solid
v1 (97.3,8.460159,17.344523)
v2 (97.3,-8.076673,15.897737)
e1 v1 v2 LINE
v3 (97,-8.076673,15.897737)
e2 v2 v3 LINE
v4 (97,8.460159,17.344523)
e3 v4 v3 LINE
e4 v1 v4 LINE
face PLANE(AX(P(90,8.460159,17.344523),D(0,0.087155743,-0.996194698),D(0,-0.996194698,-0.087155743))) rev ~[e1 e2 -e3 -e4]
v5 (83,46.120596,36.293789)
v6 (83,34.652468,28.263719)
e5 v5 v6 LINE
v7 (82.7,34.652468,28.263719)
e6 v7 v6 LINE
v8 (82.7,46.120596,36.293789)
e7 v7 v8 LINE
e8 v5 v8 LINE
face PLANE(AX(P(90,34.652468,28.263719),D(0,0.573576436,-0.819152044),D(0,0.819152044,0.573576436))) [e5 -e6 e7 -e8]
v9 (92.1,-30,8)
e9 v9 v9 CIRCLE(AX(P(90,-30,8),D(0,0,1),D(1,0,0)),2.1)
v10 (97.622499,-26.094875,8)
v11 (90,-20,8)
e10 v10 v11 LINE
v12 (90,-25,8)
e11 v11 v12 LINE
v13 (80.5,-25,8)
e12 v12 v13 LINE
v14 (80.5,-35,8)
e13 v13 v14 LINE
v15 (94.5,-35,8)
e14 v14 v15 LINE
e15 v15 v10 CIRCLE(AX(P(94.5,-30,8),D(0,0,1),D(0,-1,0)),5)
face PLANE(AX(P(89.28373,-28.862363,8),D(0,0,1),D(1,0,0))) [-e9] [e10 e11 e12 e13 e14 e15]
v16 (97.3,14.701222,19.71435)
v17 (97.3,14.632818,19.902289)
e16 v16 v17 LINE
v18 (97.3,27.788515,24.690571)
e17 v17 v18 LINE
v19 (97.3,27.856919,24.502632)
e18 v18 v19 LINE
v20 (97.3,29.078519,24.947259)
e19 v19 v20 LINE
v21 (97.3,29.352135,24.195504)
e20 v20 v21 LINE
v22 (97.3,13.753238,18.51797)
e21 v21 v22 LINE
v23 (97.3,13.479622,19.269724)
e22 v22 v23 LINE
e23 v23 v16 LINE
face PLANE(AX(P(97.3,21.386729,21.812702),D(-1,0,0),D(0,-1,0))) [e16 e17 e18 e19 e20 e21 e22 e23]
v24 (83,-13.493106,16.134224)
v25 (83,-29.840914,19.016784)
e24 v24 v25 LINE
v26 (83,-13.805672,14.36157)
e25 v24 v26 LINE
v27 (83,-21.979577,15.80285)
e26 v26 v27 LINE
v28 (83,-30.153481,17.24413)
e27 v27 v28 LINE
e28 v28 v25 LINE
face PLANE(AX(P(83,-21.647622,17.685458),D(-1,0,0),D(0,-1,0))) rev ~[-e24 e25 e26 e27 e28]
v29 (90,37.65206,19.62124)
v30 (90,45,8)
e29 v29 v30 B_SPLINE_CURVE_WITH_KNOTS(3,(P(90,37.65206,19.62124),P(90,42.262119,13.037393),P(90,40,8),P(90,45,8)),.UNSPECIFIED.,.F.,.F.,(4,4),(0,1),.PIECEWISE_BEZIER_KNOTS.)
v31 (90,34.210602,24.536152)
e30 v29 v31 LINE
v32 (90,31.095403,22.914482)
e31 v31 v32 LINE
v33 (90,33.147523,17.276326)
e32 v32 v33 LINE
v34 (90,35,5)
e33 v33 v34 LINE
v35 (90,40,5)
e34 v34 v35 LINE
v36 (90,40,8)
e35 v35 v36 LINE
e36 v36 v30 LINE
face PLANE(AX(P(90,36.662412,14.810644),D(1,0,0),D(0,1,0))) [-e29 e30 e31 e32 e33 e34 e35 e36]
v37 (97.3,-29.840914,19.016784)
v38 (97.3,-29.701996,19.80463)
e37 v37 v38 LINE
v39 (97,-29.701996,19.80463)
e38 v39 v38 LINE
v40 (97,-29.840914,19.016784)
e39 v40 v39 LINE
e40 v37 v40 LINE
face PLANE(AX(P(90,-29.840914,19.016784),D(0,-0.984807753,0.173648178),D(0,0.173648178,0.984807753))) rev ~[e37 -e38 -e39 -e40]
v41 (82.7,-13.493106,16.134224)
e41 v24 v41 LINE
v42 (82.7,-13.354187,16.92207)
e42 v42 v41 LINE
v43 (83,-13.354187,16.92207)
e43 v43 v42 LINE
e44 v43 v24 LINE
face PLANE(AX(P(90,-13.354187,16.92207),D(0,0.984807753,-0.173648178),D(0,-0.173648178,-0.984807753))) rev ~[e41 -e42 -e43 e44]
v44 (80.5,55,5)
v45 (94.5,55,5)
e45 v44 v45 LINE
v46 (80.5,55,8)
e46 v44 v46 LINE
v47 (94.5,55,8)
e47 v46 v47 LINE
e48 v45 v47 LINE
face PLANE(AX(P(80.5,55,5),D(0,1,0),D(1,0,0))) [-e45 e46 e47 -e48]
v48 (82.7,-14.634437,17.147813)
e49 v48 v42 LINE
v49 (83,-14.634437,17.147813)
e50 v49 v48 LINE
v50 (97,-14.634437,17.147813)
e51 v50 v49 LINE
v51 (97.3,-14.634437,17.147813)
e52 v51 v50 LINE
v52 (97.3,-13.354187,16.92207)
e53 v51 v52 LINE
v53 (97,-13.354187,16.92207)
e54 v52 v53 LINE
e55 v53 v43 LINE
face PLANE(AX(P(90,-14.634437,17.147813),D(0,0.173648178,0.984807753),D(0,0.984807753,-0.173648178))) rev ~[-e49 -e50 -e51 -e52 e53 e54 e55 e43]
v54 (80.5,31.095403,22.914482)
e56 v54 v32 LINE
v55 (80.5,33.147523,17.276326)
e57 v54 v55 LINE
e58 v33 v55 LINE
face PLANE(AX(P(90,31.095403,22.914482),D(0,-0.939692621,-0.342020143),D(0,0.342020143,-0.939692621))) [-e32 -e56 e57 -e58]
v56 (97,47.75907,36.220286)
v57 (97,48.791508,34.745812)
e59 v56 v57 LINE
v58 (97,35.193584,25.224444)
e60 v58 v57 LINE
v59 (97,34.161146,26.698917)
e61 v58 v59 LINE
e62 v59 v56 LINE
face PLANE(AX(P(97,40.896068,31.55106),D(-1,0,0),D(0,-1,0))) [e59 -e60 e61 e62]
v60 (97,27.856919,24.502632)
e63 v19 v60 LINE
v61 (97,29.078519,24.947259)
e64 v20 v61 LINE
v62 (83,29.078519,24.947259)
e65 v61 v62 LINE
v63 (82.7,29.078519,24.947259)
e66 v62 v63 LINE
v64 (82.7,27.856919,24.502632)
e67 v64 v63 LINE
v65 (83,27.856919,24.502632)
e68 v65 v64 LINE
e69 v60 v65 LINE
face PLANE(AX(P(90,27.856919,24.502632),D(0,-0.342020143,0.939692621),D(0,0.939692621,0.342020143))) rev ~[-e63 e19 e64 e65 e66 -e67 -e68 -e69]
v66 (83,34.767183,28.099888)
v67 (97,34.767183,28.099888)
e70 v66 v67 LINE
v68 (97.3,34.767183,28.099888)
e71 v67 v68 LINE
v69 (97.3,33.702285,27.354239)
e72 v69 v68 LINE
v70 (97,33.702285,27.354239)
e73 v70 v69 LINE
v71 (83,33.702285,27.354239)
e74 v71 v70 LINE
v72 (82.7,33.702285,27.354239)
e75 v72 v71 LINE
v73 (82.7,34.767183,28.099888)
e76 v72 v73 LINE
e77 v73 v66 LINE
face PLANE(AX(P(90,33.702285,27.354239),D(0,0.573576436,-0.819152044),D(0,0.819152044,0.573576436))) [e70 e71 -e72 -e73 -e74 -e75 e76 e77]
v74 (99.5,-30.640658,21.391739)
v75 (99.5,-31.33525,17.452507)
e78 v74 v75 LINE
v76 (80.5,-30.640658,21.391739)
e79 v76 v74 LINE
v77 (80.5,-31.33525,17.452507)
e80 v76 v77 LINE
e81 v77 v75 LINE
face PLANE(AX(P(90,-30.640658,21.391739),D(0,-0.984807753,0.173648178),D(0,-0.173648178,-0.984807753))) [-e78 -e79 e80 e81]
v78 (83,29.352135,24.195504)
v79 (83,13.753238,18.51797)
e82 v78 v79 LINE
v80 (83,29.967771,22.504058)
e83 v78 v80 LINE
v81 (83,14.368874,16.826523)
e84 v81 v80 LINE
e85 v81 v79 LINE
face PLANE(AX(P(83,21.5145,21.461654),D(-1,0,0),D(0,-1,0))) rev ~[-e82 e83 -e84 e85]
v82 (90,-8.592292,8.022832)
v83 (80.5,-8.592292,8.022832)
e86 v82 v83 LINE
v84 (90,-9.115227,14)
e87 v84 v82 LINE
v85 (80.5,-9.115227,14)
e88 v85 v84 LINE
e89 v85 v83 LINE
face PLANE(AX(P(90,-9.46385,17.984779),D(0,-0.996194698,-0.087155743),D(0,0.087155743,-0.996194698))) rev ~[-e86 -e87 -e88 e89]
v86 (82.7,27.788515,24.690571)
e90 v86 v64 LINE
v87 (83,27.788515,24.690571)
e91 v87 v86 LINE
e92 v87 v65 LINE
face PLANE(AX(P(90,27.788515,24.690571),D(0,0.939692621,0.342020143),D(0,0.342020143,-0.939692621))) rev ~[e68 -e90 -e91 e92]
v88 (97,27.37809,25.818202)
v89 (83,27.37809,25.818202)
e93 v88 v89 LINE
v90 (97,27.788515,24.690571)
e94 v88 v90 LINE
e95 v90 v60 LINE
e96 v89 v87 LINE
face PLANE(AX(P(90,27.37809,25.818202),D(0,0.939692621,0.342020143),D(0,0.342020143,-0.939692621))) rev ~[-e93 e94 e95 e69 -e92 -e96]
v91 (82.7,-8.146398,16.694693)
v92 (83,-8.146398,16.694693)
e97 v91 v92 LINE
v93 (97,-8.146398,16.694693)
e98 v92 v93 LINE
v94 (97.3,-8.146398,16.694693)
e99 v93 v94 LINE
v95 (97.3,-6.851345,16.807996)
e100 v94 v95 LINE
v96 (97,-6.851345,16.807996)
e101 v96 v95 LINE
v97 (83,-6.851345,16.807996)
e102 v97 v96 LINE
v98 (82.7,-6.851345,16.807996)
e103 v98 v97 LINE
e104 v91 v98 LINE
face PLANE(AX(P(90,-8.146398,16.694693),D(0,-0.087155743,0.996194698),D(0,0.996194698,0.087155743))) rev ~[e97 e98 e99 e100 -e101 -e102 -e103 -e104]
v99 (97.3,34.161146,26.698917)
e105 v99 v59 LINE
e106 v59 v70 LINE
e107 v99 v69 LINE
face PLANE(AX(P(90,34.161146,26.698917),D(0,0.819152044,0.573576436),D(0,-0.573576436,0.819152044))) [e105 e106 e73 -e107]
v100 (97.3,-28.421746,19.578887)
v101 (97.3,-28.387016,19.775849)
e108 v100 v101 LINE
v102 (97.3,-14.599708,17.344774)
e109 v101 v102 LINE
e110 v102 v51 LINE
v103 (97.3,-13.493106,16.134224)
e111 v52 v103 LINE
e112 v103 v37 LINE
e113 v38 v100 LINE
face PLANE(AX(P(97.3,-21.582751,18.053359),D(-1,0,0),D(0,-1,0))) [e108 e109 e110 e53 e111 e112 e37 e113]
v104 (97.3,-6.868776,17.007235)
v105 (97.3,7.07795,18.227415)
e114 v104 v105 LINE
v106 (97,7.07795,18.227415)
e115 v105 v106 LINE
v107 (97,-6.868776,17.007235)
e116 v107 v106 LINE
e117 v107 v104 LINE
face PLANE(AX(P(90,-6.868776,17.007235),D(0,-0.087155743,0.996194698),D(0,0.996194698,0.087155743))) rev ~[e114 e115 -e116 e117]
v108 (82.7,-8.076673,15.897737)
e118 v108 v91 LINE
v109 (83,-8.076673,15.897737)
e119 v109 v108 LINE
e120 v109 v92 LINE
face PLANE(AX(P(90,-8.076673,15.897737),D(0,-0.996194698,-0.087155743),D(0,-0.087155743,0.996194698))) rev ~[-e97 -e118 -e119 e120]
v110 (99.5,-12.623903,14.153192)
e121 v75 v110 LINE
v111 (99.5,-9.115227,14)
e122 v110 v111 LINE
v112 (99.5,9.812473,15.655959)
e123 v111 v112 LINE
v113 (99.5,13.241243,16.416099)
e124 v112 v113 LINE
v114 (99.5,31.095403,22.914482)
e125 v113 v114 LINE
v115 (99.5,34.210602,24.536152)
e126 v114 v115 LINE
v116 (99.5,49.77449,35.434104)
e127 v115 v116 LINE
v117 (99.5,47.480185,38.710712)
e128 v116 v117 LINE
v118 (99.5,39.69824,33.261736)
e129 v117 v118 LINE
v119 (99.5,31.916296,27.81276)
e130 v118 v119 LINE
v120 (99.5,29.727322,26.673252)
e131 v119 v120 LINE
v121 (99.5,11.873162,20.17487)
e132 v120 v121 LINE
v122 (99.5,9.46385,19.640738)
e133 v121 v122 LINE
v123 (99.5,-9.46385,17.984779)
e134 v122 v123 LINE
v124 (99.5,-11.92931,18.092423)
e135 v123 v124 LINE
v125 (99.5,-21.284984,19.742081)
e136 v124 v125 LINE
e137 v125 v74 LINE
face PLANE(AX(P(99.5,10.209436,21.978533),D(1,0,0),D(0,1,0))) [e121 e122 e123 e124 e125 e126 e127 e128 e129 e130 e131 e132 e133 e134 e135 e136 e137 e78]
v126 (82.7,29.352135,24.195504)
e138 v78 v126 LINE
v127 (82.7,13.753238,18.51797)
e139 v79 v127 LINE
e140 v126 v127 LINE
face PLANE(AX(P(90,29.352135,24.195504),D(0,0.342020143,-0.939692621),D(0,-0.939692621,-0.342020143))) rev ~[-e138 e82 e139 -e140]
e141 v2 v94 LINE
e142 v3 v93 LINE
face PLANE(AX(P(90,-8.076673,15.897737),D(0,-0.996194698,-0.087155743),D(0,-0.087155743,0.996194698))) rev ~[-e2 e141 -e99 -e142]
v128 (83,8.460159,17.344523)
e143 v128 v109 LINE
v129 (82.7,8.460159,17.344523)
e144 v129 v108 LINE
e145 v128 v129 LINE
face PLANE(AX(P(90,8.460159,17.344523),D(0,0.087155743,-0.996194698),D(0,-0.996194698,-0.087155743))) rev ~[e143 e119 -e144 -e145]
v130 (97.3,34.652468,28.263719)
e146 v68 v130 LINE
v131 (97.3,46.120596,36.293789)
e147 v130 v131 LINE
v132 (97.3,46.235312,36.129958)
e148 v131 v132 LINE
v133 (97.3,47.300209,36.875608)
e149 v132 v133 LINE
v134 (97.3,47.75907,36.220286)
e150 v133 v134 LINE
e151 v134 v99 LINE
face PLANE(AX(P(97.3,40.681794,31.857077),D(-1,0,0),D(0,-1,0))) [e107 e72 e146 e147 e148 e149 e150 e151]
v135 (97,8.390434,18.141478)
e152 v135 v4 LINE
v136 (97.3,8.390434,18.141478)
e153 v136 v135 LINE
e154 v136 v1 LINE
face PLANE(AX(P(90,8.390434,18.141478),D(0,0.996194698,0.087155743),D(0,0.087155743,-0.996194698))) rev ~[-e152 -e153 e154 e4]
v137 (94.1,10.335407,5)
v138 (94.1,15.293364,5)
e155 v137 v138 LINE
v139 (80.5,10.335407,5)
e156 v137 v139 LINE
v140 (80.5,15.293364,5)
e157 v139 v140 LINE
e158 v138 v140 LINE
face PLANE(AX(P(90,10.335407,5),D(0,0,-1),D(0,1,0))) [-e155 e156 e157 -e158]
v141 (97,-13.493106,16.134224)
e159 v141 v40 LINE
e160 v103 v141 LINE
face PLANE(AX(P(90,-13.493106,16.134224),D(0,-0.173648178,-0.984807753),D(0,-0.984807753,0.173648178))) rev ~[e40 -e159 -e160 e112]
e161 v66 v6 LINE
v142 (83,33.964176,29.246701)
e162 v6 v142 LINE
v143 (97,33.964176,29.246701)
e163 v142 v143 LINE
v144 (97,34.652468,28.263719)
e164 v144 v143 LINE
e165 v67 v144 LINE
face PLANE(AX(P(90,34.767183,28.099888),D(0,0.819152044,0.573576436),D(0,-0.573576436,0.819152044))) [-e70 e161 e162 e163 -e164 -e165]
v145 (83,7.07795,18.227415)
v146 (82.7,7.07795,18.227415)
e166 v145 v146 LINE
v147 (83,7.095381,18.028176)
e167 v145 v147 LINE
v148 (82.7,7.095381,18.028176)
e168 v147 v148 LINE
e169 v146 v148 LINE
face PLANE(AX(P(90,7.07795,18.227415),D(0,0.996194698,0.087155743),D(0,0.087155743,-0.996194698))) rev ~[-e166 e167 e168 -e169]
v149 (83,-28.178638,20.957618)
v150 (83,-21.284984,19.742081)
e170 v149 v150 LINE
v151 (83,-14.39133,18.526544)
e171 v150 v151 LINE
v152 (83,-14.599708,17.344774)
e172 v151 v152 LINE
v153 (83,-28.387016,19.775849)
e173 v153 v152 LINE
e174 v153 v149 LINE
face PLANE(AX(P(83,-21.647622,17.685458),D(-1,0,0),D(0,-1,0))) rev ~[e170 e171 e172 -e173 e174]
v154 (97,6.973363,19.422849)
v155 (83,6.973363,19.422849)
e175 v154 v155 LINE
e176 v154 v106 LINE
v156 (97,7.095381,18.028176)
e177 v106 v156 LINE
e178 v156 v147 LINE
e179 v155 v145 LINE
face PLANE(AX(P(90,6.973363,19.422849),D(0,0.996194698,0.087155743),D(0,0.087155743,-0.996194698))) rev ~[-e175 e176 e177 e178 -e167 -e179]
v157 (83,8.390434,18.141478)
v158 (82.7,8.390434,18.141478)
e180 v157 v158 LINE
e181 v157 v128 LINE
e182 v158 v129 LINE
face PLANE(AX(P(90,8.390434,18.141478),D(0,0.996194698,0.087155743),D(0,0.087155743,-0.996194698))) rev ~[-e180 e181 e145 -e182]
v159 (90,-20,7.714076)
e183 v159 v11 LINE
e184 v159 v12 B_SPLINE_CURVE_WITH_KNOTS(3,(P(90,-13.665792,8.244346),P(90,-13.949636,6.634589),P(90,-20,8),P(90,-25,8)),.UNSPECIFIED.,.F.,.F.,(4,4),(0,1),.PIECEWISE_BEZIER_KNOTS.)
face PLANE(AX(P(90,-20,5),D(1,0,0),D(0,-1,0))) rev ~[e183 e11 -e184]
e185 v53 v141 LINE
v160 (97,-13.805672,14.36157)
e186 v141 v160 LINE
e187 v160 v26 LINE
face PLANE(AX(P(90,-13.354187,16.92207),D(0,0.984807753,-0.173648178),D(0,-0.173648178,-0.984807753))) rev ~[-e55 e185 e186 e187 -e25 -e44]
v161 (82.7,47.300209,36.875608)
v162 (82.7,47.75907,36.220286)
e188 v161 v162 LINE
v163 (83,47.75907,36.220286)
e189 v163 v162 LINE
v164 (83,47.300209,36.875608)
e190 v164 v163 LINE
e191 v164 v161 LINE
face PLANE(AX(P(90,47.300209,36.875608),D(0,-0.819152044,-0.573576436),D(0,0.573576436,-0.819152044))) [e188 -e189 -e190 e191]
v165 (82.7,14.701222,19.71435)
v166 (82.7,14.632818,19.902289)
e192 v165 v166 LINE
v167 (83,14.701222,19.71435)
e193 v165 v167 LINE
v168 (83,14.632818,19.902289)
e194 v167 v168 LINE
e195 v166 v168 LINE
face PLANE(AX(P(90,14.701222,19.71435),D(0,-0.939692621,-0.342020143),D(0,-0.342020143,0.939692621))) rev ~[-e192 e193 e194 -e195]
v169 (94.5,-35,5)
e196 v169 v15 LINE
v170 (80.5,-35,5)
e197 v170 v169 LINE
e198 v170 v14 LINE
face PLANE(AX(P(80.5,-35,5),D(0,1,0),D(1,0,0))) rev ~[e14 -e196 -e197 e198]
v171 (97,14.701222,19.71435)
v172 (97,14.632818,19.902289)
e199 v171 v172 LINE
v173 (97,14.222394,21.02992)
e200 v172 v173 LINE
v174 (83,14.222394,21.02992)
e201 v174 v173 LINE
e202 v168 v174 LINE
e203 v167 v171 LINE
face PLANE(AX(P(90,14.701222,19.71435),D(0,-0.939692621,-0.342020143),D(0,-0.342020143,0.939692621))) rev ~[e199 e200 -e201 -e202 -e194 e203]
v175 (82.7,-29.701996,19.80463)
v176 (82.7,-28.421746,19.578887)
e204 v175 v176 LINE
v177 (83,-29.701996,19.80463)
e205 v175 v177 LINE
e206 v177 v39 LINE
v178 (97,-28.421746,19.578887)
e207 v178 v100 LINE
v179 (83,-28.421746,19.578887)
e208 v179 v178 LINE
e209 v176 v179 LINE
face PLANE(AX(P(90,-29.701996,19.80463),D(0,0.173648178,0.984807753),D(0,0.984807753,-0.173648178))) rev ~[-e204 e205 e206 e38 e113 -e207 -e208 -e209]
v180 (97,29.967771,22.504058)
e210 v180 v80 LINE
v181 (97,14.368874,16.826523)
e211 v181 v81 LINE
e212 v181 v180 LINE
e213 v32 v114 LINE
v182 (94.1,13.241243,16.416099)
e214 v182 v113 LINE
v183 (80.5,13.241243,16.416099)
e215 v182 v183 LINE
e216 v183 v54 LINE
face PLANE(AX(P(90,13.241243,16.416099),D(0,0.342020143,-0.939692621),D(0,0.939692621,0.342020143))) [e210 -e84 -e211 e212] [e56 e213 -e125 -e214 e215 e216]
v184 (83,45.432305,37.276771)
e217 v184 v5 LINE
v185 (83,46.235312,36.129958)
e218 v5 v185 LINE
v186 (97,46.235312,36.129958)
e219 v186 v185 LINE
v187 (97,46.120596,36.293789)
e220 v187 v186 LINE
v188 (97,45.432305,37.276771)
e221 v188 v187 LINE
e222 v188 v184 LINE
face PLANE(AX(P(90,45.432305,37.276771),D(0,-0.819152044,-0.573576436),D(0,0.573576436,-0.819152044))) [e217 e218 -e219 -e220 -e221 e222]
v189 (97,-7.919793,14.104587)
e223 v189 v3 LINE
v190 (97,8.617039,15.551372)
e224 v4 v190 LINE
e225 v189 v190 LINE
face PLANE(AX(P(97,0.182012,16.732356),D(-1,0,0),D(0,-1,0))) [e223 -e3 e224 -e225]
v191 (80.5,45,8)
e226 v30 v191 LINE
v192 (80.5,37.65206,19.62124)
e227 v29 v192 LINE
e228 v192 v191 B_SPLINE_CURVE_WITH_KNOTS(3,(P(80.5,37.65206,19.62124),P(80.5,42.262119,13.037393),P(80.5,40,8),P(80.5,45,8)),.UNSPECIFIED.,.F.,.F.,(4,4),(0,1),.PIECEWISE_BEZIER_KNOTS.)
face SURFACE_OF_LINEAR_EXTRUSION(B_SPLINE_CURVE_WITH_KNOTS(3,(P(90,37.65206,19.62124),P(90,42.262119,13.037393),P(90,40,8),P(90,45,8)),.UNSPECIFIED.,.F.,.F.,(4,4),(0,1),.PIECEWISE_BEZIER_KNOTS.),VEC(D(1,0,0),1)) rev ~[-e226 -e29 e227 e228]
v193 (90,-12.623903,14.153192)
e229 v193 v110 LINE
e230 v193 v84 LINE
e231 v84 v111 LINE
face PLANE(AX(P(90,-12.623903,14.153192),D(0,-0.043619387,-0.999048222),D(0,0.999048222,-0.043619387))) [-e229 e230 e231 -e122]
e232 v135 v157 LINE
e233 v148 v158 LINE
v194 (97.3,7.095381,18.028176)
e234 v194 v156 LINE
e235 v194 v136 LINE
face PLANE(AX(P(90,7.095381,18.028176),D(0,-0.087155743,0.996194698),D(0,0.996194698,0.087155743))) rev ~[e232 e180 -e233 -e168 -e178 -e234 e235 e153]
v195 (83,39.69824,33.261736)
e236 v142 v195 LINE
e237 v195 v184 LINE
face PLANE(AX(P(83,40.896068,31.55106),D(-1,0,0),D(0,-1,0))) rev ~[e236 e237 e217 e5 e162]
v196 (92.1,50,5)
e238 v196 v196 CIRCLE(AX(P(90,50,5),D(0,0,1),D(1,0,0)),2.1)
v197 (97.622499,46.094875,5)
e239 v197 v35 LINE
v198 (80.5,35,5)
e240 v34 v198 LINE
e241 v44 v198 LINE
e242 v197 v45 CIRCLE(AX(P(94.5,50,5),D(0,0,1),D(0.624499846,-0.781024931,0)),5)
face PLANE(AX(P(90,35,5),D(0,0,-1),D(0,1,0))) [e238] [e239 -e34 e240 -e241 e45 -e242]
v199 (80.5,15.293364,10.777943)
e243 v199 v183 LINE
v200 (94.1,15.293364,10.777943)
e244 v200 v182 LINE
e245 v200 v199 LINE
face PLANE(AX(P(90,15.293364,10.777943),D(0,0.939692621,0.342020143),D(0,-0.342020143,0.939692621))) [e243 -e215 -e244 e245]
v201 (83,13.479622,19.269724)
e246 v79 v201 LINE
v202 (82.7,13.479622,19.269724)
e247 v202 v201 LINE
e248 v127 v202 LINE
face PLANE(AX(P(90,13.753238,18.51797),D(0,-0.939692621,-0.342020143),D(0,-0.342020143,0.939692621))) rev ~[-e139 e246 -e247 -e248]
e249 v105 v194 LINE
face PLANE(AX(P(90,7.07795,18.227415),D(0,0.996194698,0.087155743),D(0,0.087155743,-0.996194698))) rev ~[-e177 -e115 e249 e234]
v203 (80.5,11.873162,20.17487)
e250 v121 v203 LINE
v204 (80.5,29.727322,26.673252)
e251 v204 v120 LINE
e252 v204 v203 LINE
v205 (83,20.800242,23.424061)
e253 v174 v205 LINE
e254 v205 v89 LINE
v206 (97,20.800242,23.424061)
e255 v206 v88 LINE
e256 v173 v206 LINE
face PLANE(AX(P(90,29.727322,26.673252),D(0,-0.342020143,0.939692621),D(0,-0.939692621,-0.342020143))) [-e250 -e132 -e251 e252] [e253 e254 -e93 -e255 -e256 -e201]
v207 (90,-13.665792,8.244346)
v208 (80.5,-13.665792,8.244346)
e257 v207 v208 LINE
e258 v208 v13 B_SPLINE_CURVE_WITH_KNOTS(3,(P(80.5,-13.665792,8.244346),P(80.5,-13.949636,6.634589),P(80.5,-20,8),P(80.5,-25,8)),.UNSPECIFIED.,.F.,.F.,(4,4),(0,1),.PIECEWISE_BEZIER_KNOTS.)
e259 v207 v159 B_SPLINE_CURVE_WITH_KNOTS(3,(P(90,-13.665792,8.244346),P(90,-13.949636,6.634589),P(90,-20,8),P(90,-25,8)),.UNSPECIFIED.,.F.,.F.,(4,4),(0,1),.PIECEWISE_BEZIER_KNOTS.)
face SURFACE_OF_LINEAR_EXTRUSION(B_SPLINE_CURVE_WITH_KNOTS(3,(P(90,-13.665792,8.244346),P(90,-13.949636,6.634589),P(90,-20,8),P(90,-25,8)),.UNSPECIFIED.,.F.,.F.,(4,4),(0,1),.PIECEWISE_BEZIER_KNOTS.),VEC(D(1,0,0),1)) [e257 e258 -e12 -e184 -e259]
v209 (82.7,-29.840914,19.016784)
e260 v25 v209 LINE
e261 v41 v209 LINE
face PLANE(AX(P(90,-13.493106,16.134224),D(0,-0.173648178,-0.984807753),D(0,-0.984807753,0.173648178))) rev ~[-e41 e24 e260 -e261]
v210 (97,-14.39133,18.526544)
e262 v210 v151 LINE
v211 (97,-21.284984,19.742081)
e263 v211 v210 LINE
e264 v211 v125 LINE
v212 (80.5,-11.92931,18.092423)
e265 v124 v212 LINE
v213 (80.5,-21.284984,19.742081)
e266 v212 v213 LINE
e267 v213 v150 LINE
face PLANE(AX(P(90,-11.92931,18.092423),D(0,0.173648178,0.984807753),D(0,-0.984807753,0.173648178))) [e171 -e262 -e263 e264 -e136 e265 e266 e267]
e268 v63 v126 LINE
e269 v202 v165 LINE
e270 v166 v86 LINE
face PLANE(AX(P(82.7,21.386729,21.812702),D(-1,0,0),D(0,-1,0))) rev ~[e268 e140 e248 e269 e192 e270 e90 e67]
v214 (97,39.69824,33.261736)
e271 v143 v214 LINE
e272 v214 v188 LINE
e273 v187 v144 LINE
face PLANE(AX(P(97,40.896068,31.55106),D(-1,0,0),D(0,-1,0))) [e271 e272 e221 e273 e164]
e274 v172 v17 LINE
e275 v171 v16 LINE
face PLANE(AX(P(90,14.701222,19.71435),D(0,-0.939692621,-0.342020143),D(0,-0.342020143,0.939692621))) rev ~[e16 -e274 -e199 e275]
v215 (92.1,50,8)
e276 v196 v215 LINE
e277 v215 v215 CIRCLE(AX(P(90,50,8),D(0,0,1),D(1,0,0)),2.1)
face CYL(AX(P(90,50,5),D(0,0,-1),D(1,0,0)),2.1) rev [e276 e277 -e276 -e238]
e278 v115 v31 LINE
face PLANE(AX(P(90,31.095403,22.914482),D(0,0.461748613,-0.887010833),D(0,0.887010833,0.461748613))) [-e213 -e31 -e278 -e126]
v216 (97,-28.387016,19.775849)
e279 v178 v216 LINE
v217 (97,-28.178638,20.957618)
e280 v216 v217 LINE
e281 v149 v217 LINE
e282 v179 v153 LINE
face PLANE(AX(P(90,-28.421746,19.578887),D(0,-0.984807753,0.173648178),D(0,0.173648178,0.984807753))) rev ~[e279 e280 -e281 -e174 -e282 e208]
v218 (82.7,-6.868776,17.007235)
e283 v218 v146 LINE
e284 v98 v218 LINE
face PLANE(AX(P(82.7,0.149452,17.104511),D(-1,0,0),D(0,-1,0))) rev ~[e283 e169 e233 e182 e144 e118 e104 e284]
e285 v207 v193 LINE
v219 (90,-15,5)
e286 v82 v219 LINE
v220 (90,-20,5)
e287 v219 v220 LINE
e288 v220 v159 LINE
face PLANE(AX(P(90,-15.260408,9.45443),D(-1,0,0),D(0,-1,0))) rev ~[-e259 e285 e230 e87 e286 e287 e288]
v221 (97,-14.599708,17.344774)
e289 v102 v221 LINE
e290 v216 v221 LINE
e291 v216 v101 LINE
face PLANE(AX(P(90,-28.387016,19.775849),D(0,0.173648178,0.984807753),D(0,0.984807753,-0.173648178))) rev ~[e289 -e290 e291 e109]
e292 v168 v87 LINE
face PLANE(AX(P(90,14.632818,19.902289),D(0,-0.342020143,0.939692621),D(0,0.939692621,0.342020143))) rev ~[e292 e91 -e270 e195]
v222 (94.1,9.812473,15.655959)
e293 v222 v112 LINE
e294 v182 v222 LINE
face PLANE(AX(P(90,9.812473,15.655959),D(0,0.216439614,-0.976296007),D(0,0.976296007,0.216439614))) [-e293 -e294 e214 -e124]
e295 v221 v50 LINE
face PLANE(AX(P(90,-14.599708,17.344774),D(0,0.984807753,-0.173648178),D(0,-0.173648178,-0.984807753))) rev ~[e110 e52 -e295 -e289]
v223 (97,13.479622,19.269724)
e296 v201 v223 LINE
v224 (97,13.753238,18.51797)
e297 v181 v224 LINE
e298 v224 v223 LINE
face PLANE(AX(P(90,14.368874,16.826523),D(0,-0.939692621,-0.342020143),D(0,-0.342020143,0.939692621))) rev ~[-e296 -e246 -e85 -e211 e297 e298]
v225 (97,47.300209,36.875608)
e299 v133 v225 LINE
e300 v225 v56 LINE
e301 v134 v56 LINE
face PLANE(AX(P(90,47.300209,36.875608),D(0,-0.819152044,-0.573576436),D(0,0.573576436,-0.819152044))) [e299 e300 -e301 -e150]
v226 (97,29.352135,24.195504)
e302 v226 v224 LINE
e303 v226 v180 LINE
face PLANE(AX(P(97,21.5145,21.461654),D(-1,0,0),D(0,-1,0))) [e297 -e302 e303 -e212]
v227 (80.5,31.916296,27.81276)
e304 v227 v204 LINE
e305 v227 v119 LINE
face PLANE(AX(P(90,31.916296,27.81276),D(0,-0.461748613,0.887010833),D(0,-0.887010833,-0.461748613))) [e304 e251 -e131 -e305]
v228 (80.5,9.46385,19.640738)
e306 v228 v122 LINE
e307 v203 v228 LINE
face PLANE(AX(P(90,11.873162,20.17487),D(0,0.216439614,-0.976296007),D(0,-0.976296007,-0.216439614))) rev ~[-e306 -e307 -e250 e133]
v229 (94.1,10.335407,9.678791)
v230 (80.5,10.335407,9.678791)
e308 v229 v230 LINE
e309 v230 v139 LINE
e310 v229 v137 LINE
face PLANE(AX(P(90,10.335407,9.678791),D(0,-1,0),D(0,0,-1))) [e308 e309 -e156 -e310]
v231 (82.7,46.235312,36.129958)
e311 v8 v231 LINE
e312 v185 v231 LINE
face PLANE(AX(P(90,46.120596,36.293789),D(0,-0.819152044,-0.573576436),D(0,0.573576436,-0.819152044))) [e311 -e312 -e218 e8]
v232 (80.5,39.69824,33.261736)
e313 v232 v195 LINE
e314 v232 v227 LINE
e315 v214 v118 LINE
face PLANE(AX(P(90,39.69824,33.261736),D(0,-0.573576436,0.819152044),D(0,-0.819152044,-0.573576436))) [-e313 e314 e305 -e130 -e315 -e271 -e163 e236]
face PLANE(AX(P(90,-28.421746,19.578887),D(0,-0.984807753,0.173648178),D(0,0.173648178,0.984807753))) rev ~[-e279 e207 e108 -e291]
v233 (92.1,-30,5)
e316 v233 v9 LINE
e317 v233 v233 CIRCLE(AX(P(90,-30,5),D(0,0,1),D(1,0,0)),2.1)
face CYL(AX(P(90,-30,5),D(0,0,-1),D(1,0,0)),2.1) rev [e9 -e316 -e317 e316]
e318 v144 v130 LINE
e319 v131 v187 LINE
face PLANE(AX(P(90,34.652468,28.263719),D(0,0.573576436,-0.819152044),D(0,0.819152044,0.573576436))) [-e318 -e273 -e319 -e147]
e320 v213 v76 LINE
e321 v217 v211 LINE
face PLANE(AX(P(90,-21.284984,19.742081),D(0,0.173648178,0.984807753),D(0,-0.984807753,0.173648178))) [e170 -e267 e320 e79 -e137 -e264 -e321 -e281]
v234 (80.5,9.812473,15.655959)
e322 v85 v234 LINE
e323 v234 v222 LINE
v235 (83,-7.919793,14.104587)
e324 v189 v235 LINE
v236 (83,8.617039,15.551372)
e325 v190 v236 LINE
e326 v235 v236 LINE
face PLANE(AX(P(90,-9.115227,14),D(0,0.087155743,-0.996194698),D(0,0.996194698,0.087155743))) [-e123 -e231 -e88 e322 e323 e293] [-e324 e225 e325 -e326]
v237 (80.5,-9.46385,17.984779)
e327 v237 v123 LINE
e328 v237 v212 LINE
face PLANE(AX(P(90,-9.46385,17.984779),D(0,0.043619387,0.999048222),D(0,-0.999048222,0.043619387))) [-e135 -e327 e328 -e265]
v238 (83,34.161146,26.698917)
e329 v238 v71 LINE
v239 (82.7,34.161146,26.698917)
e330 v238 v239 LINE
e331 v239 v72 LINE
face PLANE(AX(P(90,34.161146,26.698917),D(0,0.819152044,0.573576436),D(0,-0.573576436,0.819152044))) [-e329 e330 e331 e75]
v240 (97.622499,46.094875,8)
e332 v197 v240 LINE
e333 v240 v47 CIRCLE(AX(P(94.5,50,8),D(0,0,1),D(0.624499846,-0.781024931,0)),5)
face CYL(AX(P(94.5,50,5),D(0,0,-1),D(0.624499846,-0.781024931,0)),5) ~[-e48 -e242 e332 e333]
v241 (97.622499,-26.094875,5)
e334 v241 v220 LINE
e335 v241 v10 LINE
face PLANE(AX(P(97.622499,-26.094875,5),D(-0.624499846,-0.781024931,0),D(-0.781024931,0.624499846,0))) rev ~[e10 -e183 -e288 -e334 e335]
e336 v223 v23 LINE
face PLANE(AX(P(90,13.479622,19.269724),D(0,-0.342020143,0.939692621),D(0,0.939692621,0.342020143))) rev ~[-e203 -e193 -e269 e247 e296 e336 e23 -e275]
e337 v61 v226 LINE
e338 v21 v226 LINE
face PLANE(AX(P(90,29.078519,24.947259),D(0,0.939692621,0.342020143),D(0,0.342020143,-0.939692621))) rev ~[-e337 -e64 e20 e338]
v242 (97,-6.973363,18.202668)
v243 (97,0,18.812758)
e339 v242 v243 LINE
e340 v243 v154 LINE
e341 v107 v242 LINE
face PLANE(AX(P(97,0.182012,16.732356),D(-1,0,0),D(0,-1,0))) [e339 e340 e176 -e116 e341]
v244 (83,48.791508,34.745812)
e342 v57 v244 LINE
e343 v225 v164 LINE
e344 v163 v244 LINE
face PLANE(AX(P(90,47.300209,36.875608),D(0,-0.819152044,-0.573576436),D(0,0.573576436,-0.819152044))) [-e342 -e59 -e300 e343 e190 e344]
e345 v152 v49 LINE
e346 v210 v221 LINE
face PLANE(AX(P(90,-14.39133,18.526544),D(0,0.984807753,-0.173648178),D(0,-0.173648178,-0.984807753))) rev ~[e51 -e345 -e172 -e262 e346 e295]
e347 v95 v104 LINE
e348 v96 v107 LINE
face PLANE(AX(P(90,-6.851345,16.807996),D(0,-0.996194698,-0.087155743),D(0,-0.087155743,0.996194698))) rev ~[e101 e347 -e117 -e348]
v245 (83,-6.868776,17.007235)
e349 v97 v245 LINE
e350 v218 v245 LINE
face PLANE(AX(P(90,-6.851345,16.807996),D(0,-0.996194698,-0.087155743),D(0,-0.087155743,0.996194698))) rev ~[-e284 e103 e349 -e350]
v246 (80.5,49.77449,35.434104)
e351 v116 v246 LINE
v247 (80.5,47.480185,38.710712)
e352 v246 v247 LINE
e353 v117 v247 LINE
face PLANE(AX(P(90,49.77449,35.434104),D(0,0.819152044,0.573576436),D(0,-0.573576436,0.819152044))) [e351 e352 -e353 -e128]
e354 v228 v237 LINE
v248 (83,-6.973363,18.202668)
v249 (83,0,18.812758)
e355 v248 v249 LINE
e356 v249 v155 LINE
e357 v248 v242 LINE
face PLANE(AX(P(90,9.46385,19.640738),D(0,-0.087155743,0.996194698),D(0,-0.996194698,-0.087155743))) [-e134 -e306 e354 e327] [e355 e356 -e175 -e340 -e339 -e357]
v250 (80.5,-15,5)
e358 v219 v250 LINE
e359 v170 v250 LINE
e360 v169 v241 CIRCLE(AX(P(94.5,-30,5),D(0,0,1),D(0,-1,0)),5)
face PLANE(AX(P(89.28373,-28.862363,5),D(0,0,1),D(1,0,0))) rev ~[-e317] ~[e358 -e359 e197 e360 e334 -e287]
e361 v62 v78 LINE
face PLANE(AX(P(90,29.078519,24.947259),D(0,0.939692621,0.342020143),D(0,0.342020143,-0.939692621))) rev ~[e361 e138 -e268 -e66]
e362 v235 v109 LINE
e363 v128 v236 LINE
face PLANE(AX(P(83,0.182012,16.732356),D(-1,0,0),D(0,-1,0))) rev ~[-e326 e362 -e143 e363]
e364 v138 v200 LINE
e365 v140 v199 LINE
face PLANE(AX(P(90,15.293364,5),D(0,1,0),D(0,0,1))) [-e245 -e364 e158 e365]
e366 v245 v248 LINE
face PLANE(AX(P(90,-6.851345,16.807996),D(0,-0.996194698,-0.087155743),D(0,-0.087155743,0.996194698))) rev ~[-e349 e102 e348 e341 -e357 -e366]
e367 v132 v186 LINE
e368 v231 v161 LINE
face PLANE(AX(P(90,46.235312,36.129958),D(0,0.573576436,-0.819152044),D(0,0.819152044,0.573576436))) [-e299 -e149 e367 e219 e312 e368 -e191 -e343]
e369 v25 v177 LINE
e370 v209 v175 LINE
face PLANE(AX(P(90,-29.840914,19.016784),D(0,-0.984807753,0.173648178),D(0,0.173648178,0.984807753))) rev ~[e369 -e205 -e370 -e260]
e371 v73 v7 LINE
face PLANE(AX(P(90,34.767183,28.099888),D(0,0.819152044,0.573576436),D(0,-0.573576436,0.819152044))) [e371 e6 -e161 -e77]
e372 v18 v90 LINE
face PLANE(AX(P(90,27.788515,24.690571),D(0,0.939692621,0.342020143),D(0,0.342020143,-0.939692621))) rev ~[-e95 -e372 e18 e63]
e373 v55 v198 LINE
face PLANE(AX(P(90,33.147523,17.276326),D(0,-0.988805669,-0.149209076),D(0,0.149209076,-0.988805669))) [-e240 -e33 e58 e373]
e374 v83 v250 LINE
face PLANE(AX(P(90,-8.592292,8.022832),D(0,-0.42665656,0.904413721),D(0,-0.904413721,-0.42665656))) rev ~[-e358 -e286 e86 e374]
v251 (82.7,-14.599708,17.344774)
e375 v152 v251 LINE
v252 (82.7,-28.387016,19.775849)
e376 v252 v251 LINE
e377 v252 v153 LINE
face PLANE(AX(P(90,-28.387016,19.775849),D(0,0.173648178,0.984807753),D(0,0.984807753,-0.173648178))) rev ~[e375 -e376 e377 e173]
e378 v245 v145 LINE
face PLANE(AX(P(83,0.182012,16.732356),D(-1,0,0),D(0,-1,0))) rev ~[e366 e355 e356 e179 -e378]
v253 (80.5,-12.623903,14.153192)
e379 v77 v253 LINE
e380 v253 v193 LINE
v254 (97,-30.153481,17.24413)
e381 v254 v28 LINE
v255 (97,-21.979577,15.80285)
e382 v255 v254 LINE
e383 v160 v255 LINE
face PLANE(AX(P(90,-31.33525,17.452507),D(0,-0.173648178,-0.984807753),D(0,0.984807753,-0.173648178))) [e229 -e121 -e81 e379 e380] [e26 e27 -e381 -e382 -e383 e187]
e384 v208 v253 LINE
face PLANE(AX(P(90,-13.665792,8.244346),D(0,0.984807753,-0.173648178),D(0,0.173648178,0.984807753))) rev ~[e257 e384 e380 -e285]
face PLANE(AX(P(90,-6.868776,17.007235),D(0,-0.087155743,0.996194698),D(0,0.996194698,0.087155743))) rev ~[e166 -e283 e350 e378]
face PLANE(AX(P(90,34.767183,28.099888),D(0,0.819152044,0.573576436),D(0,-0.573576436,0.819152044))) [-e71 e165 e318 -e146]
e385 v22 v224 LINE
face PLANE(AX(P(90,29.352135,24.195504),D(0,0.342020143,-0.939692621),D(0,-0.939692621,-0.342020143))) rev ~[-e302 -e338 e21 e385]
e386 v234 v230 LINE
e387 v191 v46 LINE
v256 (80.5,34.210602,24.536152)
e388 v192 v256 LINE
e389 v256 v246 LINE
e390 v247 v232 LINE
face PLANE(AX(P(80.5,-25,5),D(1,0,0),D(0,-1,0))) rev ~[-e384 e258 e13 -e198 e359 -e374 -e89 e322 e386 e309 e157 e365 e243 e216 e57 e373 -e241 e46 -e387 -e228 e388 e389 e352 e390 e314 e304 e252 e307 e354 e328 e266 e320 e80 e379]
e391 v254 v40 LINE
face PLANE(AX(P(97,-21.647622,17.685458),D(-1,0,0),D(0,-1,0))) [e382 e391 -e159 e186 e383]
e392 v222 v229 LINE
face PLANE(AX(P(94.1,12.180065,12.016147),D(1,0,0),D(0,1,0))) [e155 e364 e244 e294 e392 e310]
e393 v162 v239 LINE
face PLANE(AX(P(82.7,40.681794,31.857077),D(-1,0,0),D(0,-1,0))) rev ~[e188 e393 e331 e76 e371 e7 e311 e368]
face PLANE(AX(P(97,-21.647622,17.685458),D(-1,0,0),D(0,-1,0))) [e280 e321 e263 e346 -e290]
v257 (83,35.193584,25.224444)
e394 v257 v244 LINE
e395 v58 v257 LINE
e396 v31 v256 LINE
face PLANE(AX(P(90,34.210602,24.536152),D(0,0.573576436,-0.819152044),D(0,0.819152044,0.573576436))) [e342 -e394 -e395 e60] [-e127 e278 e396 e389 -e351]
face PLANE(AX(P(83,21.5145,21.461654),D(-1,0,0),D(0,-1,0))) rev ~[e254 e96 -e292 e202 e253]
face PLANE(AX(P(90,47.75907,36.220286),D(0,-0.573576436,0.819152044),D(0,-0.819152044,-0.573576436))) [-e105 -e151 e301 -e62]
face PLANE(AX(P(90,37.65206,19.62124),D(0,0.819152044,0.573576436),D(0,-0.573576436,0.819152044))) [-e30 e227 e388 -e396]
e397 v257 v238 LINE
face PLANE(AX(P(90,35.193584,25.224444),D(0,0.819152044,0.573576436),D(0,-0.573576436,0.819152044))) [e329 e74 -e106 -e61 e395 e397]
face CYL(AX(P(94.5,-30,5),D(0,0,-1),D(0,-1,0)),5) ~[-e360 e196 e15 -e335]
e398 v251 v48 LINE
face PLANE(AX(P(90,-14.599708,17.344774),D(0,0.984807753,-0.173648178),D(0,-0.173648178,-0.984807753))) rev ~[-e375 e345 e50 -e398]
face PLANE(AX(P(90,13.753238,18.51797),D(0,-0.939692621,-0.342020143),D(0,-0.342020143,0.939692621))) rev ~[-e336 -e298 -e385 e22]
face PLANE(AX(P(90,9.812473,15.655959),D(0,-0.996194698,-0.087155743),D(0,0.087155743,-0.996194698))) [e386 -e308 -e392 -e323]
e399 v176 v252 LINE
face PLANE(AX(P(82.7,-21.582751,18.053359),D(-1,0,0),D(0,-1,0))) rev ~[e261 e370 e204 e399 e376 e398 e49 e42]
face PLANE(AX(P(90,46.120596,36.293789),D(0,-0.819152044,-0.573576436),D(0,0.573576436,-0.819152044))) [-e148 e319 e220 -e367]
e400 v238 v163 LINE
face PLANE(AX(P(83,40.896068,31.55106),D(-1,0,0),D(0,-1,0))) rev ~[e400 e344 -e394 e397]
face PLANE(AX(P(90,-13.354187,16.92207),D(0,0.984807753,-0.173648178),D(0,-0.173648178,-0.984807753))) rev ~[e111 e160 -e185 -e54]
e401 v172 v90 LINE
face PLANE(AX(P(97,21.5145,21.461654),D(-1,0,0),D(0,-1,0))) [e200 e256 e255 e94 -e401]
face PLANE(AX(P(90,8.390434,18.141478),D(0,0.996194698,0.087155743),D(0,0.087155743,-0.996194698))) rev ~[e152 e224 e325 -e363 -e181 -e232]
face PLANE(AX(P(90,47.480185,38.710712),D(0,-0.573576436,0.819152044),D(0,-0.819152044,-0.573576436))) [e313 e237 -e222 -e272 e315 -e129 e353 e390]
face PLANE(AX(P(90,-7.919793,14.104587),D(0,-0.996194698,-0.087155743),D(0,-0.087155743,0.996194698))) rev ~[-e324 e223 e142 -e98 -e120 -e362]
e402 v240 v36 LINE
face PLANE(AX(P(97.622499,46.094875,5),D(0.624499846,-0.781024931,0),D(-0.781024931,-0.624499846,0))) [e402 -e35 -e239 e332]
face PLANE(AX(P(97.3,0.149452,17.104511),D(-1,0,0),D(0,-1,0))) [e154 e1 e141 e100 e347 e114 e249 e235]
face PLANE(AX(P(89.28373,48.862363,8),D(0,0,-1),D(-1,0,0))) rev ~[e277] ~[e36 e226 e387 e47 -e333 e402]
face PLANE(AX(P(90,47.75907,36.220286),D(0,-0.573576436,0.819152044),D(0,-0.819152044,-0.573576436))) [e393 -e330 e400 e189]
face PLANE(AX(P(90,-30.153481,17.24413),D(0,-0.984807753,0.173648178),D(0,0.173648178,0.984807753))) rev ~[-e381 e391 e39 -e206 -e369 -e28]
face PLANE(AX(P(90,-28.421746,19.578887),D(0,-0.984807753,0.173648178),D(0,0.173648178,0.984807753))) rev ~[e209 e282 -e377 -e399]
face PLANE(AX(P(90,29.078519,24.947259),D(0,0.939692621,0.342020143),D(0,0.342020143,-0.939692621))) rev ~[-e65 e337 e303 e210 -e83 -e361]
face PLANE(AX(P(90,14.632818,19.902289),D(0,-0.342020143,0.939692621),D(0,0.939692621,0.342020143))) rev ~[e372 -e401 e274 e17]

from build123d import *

# Parameters (mm, degrees)
PAD016_DEPTH      = 9.5
POCKET008_DEPTH   = 7
POCKET009_DEPTH   = 7.3
PAD017_DEPTH      = 4.1
PAD017_DEPTH_BACK = 9.5
PAD018_DEPTH      = 9.5
SKETCH031_R       = 2.1
PAD019_DEPTH      = 3


with BuildPart() as part:
    # Sketch026 → Pad016 (new body, symmetric)
    with BuildSketch(Plane.YZ):
        Polygon((47.4801846947, 33.7107123063), (39.698240274, 28.2617361609), (31.9162958532, 22.8127600156), (29.7273220428, 21.6732523754), (20.8002421453, 18.4240610138), (11.8731622478, 15.1748696522), (9.4638496319, 14.6407379046), (0, 13.8127583485), (-9.4638496319, 12.9847787924), (-11.9293103801, 13.0924231333), (-21.2849840337, 14.7420808212), (-30.6406576873, 16.391738509), (-31.335250398, 12.452507497), (-12.6239030908, 9.1531921213), (-9.1152266609, 9), (9.8124726029, 10.6559591122), (13.2412428211, 11.416099169), (31.0954026161, 17.9144818922), (34.2106015986, 19.5361518385), (49.7744904401, 30.4341041291), align=None)
    extrude(amount=PAD016_DEPTH, both=True)

    # Sketch027 → Pocket008 (cut, symmetric)
    with BuildSketch(Plane.YZ):
        Polygon((-28.1786383048, 15.9576180648), (-21.2849840337, 14.7420808212), (-14.3913297626, 13.5265435775), (-14.6344372114, 12.1478127233), (-13.3541871324, 11.9220700923), (-13.8056723944, 9.3615699345), (-21.9795767444, 10.8028498091), (-30.1534810944, 12.2441296838), (-29.7019958324, 14.8046298416), (-28.4217457535, 14.5788872106), align=None)
        Polygon((-6.9733628866, 13.2026681492), (0, 13.8127583485), (6.9733628866, 14.4228485477), (7.0953809265, 13.0281759704), (8.390434034, 13.1414784359), (8.6170389652, 10.5513722209), (0.348622971, 9.8279795561), (-7.9197930232, 9.1045868913), (-8.1463979543, 11.6946931063), (-6.8513448468, 11.8079955719), align=None)
        Polygon((14.2223937998, 16.0299200105), (20.8002421453, 18.4240610138), (27.3780904908, 20.818202017), (27.8569186914, 19.5026323479), (29.0785190985, 19.9472585343), (29.9677714711, 17.5040577202), (22.1683227186, 14.6652905306), (14.3688739661, 11.826523341), (13.4796215934, 14.2697241551), (14.7012220004, 14.7143503414), align=None)
        Polygon((33.964175964, 24.2467011065), (39.698240274, 28.2617361609), (45.432304584, 32.2767712154), (46.2353115949, 31.1299583534), (47.3002092525, 31.8756077207), (48.791507987, 29.7458124055), (41.9925460194, 24.9851279838), (35.1935840518, 20.2244435621), (33.7022853173, 22.3542388772), (34.7671829748, 23.0998882445), align=None)
    extrude(amount=POCKET008_DEPTH, both=True, mode=Mode.SUBTRACT)

    # Sketch028 → Pocket009 (cut, symmetric)
    with BuildSketch(Plane.YZ):
        Polygon((-28.387016118, 14.7758487612), (-14.5997075758, 12.3447742739), (-14.6344372114, 12.1478127233), (-13.3541871324, 11.9220700923), (-13.4931056746, 11.1342238899), (-29.8409143746, 14.0167836392), (-29.7019958324, 14.8046298416), (-28.4217457535, 14.5788872106), align=None)
        Polygon((-6.8687759953, 12.0072345115), (7.0779497779, 13.22741491), (7.0953809265, 13.0281759704), (8.390434034, 13.1414784359), (8.4601586282, 12.3445226775), (-8.0766733601, 10.8977373479), (-8.1463979543, 11.6946931063), (-6.8513448468, 11.8079955719), align=None)
        Polygon((14.6328179718, 14.9022888655), (27.7885146628, 19.6905708721), (27.8569186914, 19.5026323479), (29.0785190985, 19.9472585343), (29.3521352131, 19.1955044376), (13.7532377081, 13.5179700584), (13.4796215934, 14.2697241551), (14.7012220004, 14.7143503414), align=None)
        Polygon((34.6524676876, 23.2637186533), (46.1205963076, 31.2937887623), (46.2353115949, 31.1299583534), (47.3002092525, 31.8756077207), (47.7590704016, 31.2202860852), (34.1611464664, 21.6989172418), (33.7022853173, 22.3542388772), (34.7671829748, 23.0998882445), align=None)
    extrude(amount=POCKET009_DEPTH, both=True, mode=Mode.SUBTRACT)

    # Sketch029 → Pad017 (join, two sides)
    with BuildSketch(Plane.YZ) as pad017_sk:
        Polygon((9.4638496319, 14.6407379046), (9.8124726029, 10.6559591122), (10.3354070593, 4.6787909237), (10.3354070593, 0), (15.2933636811, 0), (15.2933636811, 5.7779434443), (13.2412428211, 11.416099169), (11.8731622478, 15.1748696522), align=None)
    extrude(amount=PAD017_DEPTH)
    extrude(pad017_sk.sketch, amount=-PAD017_DEPTH_BACK)

    # Sketch030 → Pad018 (join)
    with BuildSketch(Plane.YZ):
        with BuildLine():
            Line((-13.6657921568, 3.2443456032), (-12.6239030908, 9.1531921213))
            Line((-12.6239030908, 9.1531921213), (-11.9293103801, 13.0924231333))
            Line((-11.9293103801, 13.0924231333), (-9.4638496319, 12.9847787924))
            Line((-9.4638496319, 12.9847787924), (-9.1152266609, 9))
            Line((-9.1152266609, 9), (-8.5922922044, 3.0228318114))
            Line((-8.5922922044, 3.0228318114), (-15, 0))
            Line((-15, 0), (-25, 0))
            Line((-25, 0), (-25, 3))
            add(Edge.make_bspline(
                [(-13.6657921568, 3.2443456032), (-13.9496356176, 1.6345893441), (-20, 3), (-25, 3)],
                knots=[0, 0, 0, 0, 1, 1, 1, 1], degree=3))
        make_face()
        with BuildLine():
            Line((37.6520602167, 14.6212395727), (34.2106015986, 19.5361518385))
            Line((34.2106015986, 19.5361518385), (31.9162958532, 22.8127600156))
            Line((31.9162958532, 22.8127600156), (29.7273220428, 21.6732523754))
            Line((29.7273220428, 21.6732523754), (31.0954026161, 17.9144818922))
            Line((31.0954026161, 17.9144818922), (33.147523476, 12.2763261675))
            Line((33.147523476, 12.2763261675), (35, 0))
            Line((35, 0), (45, 0))
            Line((45, 0), (45, 3))
            add(Edge.make_bspline(
                [(37.6520602167, 14.6212395727), (42.2621193459, 8.0373928164), (40, 3), (45, 3)],
                knots=[0, 0, 0, 0, 1, 1, 1, 1], degree=3))
        make_face()
    extrude(amount=-PAD018_DEPTH)

    # Sketch031 → Pad019 (join)
    with BuildSketch(Plane.XY):
        with BuildLine():
            Line((7.6224992299, -26.0948753465), (0, -20))
            Line((0, -20), (0, -25))
            Line((0, -25), (-9.5, -25))
            Line((-9.5, -25), (-9.5, -35))
            Line((-9.5, -35), (4.5, -35))
            ThreePointArc((4.5, -35), (9.218348401, -31.6544450327), (7.6224992299, -26.0948753465))
        make_face()
        with Locations((0, -30)):
            Circle(SKETCH031_R, mode=Mode.SUBTRACT)
        with BuildLine():
            Line((0, 45), (-9.5, 45))
            Line((-9.5, 45), (-9.5, 55))
            Line((-9.5, 55), (4.5, 55))
            ThreePointArc((7.6224992299, 46.0948753465), (9.218348401, 51.6544450327), (4.5, 55))
            Line((7.6224992299, 46.0948753465), (0, 40))
            Line((0, 40), (0, 45))
        make_face()
        with Locations((0, 50)):
            Circle(SKETCH031_R, mode=Mode.SUBTRACT)
    extrude(amount=PAD019_DEPTH)


with BuildPart() as part_1:
    # Body004 placement: moved
    add(part.part.moved(Location((90, 0, 5))))


solid = part_1.part
